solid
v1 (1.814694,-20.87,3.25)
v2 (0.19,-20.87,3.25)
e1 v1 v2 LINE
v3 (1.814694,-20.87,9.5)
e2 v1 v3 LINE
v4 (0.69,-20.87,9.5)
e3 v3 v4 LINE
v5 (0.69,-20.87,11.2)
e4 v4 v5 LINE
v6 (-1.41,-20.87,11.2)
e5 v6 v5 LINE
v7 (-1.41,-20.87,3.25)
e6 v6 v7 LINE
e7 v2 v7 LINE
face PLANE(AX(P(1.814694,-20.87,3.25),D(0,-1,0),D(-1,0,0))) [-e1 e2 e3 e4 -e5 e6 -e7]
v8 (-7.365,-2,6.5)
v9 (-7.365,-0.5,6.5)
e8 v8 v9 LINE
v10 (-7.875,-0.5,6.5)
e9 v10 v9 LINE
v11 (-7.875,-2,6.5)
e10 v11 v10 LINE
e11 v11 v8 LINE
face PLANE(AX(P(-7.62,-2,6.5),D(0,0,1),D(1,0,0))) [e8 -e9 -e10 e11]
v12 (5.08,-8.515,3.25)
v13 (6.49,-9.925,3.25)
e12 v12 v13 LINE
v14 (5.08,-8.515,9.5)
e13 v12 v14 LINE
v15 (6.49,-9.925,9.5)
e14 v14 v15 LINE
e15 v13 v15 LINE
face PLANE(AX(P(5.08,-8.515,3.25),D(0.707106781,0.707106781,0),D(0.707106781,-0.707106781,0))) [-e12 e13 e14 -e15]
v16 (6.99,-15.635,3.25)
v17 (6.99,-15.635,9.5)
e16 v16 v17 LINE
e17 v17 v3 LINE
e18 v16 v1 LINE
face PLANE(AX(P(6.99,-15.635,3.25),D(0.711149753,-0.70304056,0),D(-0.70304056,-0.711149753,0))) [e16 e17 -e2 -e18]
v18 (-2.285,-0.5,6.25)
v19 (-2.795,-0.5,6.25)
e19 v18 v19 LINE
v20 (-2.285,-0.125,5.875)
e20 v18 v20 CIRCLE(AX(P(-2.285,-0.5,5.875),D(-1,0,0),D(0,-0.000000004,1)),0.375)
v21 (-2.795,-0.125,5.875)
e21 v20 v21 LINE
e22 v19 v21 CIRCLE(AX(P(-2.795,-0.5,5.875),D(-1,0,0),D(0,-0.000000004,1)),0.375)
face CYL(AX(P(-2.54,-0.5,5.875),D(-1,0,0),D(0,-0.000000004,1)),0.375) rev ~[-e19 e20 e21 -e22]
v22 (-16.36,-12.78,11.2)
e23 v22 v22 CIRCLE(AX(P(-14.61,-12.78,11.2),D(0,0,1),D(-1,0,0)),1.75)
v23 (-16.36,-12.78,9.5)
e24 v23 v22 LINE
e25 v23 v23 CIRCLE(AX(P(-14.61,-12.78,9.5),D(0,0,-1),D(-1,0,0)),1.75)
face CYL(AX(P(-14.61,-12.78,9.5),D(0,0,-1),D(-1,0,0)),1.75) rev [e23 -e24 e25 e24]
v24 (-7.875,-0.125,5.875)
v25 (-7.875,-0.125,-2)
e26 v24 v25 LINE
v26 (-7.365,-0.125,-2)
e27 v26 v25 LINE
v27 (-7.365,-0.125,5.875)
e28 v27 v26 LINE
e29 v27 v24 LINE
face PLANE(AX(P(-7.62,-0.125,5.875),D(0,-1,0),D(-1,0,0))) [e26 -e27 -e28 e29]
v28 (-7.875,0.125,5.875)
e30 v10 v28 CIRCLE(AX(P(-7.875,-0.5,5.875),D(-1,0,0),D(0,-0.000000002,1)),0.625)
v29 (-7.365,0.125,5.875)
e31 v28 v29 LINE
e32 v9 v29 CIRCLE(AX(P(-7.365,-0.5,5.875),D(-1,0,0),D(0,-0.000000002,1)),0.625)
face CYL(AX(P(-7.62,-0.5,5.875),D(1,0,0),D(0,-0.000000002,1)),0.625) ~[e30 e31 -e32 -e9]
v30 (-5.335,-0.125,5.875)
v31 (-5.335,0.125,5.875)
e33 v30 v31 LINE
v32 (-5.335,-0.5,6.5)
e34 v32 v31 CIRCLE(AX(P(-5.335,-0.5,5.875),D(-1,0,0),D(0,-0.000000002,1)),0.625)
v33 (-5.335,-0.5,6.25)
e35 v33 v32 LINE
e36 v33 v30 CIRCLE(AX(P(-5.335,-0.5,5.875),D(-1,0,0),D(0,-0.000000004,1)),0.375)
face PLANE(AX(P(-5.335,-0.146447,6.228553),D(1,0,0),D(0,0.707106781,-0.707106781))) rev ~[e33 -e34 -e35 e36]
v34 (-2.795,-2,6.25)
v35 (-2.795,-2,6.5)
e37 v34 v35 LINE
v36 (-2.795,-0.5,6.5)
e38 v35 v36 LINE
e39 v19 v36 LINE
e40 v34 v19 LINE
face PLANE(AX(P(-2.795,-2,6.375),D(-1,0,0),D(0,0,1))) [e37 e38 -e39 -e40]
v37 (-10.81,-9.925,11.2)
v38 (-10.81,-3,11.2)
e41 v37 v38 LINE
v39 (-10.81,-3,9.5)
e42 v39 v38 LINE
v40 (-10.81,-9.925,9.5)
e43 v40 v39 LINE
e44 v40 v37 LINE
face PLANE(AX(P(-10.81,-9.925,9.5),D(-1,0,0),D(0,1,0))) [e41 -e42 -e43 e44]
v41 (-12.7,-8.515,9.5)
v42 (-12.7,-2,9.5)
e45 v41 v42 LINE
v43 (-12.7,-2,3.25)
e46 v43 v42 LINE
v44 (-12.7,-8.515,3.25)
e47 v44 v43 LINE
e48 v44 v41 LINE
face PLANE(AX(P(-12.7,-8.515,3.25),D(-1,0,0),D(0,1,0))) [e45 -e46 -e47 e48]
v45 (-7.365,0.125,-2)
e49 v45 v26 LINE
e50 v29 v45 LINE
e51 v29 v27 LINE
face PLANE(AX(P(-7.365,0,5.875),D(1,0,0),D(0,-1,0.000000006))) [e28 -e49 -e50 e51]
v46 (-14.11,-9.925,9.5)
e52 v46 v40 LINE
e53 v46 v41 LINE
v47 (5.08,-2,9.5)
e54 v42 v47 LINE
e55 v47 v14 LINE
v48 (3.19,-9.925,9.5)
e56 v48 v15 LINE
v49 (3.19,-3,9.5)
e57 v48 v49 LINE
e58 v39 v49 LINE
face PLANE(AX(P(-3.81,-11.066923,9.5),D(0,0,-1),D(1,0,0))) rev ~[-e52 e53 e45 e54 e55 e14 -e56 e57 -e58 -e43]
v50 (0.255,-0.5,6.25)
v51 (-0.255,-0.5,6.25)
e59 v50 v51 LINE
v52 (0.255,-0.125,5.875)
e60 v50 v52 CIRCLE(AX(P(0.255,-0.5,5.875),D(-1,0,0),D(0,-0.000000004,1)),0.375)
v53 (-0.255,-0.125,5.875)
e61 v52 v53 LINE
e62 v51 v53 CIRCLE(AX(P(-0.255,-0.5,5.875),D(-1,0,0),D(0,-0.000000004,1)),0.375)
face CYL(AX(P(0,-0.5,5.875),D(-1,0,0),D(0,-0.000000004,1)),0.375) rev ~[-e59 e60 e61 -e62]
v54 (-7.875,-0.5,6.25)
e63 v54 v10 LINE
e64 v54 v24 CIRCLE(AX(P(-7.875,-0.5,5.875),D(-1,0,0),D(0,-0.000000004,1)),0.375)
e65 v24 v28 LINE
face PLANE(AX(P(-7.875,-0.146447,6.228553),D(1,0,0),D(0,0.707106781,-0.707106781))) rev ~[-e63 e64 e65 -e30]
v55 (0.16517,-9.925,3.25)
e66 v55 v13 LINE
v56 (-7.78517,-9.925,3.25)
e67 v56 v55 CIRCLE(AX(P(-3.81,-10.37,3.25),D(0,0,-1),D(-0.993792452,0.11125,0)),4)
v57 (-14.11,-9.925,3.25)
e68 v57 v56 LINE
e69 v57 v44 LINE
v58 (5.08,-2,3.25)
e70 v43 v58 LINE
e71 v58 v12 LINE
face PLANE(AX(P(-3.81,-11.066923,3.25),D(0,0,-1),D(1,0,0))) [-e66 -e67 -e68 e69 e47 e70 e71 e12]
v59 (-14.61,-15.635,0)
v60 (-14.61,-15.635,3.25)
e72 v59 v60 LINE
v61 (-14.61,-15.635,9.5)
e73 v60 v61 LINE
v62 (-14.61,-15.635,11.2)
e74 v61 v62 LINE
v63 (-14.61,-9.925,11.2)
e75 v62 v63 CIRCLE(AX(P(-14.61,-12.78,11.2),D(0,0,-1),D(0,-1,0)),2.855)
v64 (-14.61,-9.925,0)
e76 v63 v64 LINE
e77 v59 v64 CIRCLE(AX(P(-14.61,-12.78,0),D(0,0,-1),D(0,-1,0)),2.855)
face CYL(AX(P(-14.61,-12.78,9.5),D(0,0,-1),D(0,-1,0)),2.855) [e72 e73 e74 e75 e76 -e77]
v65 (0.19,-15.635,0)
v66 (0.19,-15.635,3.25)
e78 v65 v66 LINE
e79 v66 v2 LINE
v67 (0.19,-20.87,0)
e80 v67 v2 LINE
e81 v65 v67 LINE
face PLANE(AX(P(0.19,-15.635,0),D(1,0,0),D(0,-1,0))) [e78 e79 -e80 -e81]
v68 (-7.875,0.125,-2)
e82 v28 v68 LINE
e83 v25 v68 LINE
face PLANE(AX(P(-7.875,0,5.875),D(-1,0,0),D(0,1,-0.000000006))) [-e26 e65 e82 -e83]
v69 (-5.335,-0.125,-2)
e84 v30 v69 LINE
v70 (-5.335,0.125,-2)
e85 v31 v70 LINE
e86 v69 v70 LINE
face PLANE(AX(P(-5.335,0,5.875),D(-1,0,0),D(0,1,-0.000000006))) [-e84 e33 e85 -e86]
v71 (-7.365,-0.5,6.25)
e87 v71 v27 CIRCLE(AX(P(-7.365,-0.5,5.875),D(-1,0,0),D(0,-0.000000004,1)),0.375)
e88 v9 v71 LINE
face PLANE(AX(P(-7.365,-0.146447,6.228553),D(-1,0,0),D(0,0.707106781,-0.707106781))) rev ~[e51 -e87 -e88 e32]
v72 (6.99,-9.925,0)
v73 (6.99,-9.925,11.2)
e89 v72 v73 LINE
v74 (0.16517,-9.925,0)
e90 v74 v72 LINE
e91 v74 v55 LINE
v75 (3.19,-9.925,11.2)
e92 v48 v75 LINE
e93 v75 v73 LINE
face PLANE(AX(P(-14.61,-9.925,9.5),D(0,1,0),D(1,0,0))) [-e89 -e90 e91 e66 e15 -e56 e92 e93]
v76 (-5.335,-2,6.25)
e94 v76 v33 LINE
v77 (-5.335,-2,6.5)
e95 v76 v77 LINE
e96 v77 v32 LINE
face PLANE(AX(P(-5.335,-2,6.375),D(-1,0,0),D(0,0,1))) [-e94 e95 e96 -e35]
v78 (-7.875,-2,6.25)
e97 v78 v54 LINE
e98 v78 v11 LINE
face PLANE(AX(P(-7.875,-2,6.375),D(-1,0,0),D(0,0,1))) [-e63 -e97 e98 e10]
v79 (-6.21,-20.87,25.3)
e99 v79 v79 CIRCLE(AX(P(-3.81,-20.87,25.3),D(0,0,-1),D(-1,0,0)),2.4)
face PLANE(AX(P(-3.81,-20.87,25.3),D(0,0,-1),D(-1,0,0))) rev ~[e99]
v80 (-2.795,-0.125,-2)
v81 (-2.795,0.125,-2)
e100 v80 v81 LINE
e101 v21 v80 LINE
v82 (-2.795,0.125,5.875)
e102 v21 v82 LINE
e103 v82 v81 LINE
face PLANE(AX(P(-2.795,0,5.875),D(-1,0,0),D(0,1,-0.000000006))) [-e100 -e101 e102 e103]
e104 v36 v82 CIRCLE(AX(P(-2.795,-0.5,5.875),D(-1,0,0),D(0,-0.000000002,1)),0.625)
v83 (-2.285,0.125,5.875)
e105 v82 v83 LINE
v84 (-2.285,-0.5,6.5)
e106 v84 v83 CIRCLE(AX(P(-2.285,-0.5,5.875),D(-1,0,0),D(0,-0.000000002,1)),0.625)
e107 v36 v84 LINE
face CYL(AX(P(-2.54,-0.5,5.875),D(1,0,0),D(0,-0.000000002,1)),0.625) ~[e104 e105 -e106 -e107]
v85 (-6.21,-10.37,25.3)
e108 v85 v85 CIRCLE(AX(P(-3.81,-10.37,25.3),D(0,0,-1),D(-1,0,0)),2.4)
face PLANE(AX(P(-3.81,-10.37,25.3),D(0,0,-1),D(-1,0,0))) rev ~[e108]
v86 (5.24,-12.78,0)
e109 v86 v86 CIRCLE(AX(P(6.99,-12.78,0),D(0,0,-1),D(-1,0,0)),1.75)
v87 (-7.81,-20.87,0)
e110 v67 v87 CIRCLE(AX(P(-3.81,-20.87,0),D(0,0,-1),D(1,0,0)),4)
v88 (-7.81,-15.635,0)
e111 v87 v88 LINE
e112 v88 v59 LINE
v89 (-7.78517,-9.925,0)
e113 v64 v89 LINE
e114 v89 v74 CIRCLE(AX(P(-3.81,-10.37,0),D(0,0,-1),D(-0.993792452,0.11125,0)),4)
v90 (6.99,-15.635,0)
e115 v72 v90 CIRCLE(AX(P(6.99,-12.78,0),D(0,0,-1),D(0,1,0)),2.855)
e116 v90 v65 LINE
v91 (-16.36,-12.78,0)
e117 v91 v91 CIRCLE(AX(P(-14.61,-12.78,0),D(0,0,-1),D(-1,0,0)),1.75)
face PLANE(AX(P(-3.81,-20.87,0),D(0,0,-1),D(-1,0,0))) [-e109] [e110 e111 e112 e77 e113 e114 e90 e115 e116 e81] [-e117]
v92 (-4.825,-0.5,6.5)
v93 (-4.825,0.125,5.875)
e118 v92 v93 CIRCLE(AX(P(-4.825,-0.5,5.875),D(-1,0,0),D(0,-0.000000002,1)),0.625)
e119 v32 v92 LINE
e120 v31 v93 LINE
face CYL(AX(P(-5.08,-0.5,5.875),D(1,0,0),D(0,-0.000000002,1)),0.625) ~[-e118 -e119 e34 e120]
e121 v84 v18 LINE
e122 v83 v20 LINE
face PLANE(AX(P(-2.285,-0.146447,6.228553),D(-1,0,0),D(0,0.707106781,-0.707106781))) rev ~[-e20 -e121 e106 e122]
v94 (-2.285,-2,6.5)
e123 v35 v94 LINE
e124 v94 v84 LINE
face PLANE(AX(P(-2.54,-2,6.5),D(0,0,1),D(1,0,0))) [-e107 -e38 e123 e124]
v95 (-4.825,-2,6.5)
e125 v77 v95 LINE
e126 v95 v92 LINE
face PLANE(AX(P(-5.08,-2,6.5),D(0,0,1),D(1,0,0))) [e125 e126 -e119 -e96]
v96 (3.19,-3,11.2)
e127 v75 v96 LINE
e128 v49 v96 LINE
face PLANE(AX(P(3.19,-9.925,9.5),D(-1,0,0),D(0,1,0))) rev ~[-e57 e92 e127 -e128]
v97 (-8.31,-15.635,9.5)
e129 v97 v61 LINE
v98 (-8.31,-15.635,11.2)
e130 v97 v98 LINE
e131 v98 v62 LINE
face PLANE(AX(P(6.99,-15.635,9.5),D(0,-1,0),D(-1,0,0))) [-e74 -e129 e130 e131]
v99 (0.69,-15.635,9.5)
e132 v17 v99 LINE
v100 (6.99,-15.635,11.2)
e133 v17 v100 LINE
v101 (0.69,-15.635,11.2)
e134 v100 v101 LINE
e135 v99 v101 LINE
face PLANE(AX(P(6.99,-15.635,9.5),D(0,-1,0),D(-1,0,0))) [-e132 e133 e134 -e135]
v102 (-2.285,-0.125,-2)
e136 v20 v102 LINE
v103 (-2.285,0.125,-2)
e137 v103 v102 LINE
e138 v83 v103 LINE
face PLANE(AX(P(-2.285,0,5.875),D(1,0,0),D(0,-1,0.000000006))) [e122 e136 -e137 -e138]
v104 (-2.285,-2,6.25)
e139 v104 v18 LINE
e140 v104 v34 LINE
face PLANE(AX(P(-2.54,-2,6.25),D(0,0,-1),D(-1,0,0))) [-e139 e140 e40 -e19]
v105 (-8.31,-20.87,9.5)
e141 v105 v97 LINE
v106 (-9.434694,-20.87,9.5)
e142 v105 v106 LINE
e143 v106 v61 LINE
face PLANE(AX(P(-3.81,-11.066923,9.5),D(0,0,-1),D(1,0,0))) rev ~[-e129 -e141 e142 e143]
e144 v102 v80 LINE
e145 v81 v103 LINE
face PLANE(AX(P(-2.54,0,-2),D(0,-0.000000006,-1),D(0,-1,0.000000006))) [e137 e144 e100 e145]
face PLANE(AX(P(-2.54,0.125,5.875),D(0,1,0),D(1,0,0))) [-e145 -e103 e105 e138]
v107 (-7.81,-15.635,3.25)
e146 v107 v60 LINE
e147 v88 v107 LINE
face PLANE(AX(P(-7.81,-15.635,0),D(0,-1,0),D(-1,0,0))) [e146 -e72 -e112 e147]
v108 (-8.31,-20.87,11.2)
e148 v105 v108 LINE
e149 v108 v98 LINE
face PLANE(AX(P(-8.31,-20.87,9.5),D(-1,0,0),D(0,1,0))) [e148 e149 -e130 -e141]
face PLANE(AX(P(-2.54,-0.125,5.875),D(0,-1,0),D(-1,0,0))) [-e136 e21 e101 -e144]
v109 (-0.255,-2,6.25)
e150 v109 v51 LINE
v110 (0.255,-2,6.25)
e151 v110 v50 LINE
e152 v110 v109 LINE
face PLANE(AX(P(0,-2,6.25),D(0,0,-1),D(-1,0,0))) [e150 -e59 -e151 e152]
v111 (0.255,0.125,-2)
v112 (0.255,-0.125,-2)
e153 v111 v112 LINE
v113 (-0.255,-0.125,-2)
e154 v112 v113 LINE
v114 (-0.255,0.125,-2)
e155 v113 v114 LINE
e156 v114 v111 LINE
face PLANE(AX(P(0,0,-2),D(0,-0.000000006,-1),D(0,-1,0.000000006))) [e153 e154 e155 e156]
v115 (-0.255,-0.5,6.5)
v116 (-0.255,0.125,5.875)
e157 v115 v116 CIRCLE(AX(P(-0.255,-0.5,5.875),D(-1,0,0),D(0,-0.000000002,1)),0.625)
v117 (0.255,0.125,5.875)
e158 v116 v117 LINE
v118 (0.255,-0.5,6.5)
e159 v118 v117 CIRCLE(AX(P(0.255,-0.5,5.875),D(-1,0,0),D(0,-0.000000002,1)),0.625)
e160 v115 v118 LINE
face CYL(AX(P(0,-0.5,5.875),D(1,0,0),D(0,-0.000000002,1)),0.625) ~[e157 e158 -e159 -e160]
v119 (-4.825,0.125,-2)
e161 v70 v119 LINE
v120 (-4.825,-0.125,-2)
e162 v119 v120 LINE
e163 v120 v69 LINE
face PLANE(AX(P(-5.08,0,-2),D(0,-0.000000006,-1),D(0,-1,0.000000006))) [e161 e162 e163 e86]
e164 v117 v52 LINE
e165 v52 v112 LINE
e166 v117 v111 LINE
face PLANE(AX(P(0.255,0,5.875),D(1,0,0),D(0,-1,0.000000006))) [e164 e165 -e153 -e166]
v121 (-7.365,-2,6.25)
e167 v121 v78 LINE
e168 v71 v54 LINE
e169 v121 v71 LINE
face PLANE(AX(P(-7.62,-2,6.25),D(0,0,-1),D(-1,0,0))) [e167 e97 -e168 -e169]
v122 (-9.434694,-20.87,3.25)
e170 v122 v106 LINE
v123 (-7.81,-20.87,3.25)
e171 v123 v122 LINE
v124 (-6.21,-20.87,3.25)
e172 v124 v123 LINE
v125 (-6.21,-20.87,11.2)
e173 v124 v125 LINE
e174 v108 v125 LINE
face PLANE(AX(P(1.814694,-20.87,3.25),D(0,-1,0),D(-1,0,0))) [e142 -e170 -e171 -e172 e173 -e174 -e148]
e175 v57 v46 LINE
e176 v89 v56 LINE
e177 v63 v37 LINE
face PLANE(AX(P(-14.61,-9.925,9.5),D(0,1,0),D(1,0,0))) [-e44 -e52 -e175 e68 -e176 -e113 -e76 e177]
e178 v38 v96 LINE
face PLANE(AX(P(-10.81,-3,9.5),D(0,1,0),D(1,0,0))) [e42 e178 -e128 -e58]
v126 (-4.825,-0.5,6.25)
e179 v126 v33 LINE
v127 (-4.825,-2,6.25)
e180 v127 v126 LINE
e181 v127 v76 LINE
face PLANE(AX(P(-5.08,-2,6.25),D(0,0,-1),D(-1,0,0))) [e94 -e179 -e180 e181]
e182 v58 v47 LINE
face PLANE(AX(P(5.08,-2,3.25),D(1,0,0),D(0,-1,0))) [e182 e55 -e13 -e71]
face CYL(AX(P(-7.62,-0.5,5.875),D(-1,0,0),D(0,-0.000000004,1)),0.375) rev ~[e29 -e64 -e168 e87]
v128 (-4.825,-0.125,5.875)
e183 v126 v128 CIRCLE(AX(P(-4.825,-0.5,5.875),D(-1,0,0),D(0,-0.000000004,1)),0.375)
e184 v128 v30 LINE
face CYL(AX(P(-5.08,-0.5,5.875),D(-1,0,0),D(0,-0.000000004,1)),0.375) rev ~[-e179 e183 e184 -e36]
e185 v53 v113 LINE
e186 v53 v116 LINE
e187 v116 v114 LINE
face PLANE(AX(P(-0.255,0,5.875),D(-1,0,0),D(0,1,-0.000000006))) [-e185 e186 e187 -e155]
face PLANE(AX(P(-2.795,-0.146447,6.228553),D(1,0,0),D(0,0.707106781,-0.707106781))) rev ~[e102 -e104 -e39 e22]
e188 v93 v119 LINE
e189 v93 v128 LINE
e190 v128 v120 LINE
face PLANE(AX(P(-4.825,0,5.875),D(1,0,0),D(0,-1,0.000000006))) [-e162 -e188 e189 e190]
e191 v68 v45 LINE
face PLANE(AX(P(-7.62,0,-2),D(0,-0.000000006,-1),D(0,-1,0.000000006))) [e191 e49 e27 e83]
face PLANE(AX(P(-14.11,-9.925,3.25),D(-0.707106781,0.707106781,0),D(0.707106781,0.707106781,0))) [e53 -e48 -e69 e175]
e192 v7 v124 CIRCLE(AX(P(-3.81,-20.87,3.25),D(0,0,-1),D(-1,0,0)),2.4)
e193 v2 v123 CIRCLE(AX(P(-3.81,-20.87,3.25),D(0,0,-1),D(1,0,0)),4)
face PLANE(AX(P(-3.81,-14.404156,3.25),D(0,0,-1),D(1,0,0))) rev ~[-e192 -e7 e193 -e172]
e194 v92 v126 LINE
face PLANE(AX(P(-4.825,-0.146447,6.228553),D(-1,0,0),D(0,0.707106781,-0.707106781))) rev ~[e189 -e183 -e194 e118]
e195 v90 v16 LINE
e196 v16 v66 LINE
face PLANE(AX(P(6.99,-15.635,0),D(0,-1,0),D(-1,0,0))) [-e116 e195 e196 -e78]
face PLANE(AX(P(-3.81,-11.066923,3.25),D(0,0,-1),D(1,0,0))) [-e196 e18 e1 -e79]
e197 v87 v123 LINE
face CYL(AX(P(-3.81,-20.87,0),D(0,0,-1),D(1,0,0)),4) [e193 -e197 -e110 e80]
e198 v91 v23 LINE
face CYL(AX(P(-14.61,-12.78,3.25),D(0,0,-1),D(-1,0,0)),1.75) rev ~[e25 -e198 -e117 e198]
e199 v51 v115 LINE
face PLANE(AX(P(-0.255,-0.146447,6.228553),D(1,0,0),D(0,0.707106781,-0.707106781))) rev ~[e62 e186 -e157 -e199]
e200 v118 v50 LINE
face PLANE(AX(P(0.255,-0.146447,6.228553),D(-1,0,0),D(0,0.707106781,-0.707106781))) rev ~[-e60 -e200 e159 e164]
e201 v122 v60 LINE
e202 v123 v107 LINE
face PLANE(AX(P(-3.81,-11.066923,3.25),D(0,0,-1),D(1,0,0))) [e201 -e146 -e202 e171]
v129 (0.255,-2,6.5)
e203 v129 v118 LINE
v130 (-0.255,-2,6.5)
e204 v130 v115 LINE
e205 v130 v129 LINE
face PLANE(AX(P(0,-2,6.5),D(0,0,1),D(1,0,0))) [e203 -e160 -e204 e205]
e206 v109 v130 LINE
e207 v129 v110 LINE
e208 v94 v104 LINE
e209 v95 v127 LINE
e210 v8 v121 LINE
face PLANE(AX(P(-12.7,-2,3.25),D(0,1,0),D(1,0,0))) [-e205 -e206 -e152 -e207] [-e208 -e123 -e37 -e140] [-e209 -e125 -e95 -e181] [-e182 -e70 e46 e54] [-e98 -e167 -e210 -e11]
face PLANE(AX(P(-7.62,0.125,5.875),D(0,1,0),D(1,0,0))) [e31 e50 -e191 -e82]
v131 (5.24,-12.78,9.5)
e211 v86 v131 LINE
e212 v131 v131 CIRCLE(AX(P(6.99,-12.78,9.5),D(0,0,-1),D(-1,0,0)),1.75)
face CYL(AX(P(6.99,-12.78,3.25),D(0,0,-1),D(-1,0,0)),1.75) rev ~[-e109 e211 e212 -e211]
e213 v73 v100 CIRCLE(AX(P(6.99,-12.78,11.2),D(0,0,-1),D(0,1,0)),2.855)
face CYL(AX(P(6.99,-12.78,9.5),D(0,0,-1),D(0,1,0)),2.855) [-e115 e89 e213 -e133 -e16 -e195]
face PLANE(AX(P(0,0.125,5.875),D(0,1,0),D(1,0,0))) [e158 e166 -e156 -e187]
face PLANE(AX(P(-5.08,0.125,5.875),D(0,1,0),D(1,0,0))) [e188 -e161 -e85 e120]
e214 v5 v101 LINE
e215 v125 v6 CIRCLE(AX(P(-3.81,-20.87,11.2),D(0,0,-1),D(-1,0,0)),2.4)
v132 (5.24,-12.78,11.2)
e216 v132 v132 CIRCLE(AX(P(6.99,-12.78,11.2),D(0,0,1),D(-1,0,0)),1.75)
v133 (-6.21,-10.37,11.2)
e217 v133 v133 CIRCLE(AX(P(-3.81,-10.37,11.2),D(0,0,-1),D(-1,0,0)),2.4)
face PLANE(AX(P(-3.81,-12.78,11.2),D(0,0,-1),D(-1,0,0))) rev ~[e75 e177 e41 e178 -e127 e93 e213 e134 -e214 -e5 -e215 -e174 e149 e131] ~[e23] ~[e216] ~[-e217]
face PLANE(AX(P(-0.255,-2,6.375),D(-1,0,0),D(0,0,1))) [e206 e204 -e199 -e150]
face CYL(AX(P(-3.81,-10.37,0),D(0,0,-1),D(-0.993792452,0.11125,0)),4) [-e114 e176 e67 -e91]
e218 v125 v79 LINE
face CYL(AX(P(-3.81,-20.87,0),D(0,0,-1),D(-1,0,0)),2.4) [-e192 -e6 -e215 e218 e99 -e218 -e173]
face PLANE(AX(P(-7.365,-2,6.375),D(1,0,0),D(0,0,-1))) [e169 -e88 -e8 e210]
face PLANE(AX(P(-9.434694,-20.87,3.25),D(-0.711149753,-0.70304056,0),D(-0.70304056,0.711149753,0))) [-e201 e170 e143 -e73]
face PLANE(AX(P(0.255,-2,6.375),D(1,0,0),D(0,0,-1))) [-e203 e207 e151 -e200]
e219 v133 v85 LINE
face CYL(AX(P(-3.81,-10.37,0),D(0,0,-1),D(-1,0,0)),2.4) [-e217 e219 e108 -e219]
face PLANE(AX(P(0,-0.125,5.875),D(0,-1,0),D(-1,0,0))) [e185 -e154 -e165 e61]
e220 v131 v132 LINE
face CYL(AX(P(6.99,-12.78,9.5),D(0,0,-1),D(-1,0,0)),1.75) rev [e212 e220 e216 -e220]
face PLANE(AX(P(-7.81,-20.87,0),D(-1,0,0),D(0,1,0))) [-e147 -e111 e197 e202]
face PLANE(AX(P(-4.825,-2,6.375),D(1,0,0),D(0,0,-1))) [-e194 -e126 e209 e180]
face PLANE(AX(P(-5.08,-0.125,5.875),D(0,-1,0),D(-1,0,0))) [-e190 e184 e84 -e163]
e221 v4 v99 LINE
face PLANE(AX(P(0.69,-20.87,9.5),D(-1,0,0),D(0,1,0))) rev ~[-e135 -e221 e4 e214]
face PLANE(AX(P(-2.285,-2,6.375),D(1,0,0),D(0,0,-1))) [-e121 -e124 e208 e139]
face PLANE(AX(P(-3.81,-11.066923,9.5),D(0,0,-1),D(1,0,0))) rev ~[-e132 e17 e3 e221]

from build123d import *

# Parameters (mm, degrees)
SKETCH1_R           = 1.75
BOSS_EXTRUDE1_DEPTH = 3.25
BOSS_EXTRUDE3_START = -3.25
SKETCH1_4_R         = 1.75
BOSS_EXTRUDE3_DEPTH = 6.25
SKETCH3_W           = 9
SKETCH3_H           = 5.235
SKETCH3_R           = 1.75
SKETCH3_W_2         = 14
SKETCH3_H_2         = 6.925
BOSS_EXTRUDE4_DEPTH = 1.7
SKETCH1_5_R         = 2.4
BOSS_EXTRUDE5_DEPTH = 25.3
SKETCH5_W           = 0.51
SKETCH5_H           = 0.25
LPATTERN1_COUNT     = 4
LPATTERN1_PITCH     = 2.54


with BuildPart() as part:
    # Sketch1 → Boss-Extrude1 (new body)
    with BuildSketch(Plane(origin=(0, 0, 0), x_dir=(1, 0, 0), z_dir=(0, 0, -1))):
        with BuildLine():
            Line((-14.61, 9.925), (-7.785169808, 9.925))
            ThreePointArc((-7.785169808, 9.925), (-3.81, 6.37), (0.165169808, 9.925))
            Line((0.165169808, 9.925), (6.99, 9.925))
            ThreePointArc((6.99, 9.925), (9.845, 12.78), (6.99, 15.635))
            Line((6.99, 15.635), (0.19, 15.635))
            Line((0.19, 15.635), (0.19, 20.87))
            ThreePointArc((0.19, 20.87), (-3.81, 24.87), (-7.81, 20.87))
            Line((-7.81, 20.87), (-7.81, 15.635))
            Line((-7.81, 15.635), (-14.61, 15.635))
            ThreePointArc((-14.61, 15.635), (-17.465, 12.78), (-14.61, 9.925))
        make_face()
        with Locations(Location((-14.61, 12.78, 0), (0, 0, 180))):
            Circle(SKETCH1_R, mode=Mode.SUBTRACT)
        with Locations(Location((6.99, 12.78, 0), (0, 0, 180))):
            Circle(SKETCH1_R, mode=Mode.SUBTRACT)
    extrude(amount=-BOSS_EXTRUDE1_DEPTH)

    # Sketch1<4> → Boss-Extrude3 (add)
    with BuildSketch(Plane(origin=(0, 0, 0), x_dir=(1, 0, 0), z_dir=(0, 0, -1)).offset(BOSS_EXTRUDE3_START)):
        with BuildLine():
            Line((-12.7, 8.515), (-12.7, 2))
            Line((-12.7, 2), (5.08, 2))
            Line((5.08, 2), (5.08, 8.515))
            Line((5.08, 8.515), (6.49, 9.925))
            Line((6.49, 9.925), (6.99, 9.925))
            ThreePointArc((6.99, 9.925), (9.845, 12.78), (6.99, 15.635))
            Line((6.99, 15.635), (1.814694354, 20.87))
            Line((1.814694354, 20.87), (-9.434694354, 20.87))
            Line((-9.434694354, 20.87), (-14.61, 15.635))
            ThreePointArc((-14.61, 15.635), (-17.465, 12.78), (-14.61, 9.925))
            Line((-14.61, 9.925), (-14.11, 9.925))
            Line((-14.11, 9.925), (-12.7, 8.515))
        make_face()
        with Locations(Location((-14.61, 12.78, 0), (0, 0, 180))):
            Circle(SKETCH1_4_R, mode=Mode.SUBTRACT)
        with Locations(Location((6.99, 12.78, 0), (0, 0, 180))):
            Circle(SKETCH1_4_R, mode=Mode.SUBTRACT)
    extrude(amount=-BOSS_EXTRUDE3_DEPTH)

    # Sketch3 → Boss-Extrude4 (add)
    # profile 1 of 3: a face of its own
    with BuildSketch(Plane.XY.offset(9.5)):
        with Locations((-3.81, -18.2525)):
            Rectangle(SKETCH3_W, SKETCH3_H)
    # profile 2 of 3: a face of its own
    with BuildSketch(Plane.XY.offset(9.5)):
        with BuildLine():
            Line((6.99, -15.635), (-14.61, -15.635))
            ThreePointArc((-14.61, -15.635), (-17.465, -12.78), (-14.61, -9.925))
            Line((-14.61, -9.925), (-14.11, -9.925))
            Line((-14.11, -9.925), (6.49, -9.925))
            Line((6.49, -9.925), (6.99, -9.925))
            ThreePointArc((6.99, -9.925), (9.845, -12.78), (6.99, -15.635))
        make_face()
        with Locations(Location((-14.61, -12.78, 0), (0, 0, 180))):
            Circle(SKETCH3_R, mode=Mode.SUBTRACT)
        with Locations(Location((6.99, -12.78, 0), (0, 0, 180))):
            Circle(SKETCH3_R, mode=Mode.SUBTRACT)
    # profile 3 of 3: a face of its own
    with BuildSketch(Plane.XY.offset(9.5)):
        with Locations((-3.81, -6.4625)):
            Rectangle(SKETCH3_W_2, SKETCH3_H_2)
    extrude(amount=BOSS_EXTRUDE4_DEPTH)

    # Sketch1<5> → Boss-Extrude5 (add)
    with BuildSketch(Plane(origin=(0, 0, 0), x_dir=(1, 0, 0), z_dir=(0, 0, -1))):
        with Locations(Location((-3.81, 20.87, 0), (0, 0, 180))):
            Circle(SKETCH1_5_R)
        with Locations(Location((-3.81, 10.37, 0), (0, 0, 180))):
            Circle(SKETCH1_5_R)
    extrude(amount=-BOSS_EXTRUDE5_DEPTH)

    # Sweep1: sweep along a path in Sketch4
    with BuildLine(Plane(origin=(0, 0, 0), x_dir=(0, 0, -1), z_dir=(1, 0, 0))) as sweep1_path:
        Line((-6.375, -2), (-6.375, -0.5))
        ThreePointArc((-6.375, -0.5), (-6.228553391, -0.146446609), (-5.875, 0))
        Line((-5.875, 0), (0, 0))
        Line((0, 0), (2, 0))
    # Sketch5 → Sweep1 (sweep)
    with BuildSketch(Plane(origin=(0, -2, 0), x_dir=(1, 0, 0), z_dir=(0, 1, 0))):
        with Locations((0, -6.375)):
            Rectangle(SKETCH5_W, SKETCH5_H)
    sweep1 = sweep(path=sweep1_path.line)

    # LPattern1: Sweep1 ×4
    with Locations(*[(-i * LPATTERN1_PITCH, 0, 0) for i in range(1, LPATTERN1_COUNT)]):
        add(sweep1)


solid = part.part
